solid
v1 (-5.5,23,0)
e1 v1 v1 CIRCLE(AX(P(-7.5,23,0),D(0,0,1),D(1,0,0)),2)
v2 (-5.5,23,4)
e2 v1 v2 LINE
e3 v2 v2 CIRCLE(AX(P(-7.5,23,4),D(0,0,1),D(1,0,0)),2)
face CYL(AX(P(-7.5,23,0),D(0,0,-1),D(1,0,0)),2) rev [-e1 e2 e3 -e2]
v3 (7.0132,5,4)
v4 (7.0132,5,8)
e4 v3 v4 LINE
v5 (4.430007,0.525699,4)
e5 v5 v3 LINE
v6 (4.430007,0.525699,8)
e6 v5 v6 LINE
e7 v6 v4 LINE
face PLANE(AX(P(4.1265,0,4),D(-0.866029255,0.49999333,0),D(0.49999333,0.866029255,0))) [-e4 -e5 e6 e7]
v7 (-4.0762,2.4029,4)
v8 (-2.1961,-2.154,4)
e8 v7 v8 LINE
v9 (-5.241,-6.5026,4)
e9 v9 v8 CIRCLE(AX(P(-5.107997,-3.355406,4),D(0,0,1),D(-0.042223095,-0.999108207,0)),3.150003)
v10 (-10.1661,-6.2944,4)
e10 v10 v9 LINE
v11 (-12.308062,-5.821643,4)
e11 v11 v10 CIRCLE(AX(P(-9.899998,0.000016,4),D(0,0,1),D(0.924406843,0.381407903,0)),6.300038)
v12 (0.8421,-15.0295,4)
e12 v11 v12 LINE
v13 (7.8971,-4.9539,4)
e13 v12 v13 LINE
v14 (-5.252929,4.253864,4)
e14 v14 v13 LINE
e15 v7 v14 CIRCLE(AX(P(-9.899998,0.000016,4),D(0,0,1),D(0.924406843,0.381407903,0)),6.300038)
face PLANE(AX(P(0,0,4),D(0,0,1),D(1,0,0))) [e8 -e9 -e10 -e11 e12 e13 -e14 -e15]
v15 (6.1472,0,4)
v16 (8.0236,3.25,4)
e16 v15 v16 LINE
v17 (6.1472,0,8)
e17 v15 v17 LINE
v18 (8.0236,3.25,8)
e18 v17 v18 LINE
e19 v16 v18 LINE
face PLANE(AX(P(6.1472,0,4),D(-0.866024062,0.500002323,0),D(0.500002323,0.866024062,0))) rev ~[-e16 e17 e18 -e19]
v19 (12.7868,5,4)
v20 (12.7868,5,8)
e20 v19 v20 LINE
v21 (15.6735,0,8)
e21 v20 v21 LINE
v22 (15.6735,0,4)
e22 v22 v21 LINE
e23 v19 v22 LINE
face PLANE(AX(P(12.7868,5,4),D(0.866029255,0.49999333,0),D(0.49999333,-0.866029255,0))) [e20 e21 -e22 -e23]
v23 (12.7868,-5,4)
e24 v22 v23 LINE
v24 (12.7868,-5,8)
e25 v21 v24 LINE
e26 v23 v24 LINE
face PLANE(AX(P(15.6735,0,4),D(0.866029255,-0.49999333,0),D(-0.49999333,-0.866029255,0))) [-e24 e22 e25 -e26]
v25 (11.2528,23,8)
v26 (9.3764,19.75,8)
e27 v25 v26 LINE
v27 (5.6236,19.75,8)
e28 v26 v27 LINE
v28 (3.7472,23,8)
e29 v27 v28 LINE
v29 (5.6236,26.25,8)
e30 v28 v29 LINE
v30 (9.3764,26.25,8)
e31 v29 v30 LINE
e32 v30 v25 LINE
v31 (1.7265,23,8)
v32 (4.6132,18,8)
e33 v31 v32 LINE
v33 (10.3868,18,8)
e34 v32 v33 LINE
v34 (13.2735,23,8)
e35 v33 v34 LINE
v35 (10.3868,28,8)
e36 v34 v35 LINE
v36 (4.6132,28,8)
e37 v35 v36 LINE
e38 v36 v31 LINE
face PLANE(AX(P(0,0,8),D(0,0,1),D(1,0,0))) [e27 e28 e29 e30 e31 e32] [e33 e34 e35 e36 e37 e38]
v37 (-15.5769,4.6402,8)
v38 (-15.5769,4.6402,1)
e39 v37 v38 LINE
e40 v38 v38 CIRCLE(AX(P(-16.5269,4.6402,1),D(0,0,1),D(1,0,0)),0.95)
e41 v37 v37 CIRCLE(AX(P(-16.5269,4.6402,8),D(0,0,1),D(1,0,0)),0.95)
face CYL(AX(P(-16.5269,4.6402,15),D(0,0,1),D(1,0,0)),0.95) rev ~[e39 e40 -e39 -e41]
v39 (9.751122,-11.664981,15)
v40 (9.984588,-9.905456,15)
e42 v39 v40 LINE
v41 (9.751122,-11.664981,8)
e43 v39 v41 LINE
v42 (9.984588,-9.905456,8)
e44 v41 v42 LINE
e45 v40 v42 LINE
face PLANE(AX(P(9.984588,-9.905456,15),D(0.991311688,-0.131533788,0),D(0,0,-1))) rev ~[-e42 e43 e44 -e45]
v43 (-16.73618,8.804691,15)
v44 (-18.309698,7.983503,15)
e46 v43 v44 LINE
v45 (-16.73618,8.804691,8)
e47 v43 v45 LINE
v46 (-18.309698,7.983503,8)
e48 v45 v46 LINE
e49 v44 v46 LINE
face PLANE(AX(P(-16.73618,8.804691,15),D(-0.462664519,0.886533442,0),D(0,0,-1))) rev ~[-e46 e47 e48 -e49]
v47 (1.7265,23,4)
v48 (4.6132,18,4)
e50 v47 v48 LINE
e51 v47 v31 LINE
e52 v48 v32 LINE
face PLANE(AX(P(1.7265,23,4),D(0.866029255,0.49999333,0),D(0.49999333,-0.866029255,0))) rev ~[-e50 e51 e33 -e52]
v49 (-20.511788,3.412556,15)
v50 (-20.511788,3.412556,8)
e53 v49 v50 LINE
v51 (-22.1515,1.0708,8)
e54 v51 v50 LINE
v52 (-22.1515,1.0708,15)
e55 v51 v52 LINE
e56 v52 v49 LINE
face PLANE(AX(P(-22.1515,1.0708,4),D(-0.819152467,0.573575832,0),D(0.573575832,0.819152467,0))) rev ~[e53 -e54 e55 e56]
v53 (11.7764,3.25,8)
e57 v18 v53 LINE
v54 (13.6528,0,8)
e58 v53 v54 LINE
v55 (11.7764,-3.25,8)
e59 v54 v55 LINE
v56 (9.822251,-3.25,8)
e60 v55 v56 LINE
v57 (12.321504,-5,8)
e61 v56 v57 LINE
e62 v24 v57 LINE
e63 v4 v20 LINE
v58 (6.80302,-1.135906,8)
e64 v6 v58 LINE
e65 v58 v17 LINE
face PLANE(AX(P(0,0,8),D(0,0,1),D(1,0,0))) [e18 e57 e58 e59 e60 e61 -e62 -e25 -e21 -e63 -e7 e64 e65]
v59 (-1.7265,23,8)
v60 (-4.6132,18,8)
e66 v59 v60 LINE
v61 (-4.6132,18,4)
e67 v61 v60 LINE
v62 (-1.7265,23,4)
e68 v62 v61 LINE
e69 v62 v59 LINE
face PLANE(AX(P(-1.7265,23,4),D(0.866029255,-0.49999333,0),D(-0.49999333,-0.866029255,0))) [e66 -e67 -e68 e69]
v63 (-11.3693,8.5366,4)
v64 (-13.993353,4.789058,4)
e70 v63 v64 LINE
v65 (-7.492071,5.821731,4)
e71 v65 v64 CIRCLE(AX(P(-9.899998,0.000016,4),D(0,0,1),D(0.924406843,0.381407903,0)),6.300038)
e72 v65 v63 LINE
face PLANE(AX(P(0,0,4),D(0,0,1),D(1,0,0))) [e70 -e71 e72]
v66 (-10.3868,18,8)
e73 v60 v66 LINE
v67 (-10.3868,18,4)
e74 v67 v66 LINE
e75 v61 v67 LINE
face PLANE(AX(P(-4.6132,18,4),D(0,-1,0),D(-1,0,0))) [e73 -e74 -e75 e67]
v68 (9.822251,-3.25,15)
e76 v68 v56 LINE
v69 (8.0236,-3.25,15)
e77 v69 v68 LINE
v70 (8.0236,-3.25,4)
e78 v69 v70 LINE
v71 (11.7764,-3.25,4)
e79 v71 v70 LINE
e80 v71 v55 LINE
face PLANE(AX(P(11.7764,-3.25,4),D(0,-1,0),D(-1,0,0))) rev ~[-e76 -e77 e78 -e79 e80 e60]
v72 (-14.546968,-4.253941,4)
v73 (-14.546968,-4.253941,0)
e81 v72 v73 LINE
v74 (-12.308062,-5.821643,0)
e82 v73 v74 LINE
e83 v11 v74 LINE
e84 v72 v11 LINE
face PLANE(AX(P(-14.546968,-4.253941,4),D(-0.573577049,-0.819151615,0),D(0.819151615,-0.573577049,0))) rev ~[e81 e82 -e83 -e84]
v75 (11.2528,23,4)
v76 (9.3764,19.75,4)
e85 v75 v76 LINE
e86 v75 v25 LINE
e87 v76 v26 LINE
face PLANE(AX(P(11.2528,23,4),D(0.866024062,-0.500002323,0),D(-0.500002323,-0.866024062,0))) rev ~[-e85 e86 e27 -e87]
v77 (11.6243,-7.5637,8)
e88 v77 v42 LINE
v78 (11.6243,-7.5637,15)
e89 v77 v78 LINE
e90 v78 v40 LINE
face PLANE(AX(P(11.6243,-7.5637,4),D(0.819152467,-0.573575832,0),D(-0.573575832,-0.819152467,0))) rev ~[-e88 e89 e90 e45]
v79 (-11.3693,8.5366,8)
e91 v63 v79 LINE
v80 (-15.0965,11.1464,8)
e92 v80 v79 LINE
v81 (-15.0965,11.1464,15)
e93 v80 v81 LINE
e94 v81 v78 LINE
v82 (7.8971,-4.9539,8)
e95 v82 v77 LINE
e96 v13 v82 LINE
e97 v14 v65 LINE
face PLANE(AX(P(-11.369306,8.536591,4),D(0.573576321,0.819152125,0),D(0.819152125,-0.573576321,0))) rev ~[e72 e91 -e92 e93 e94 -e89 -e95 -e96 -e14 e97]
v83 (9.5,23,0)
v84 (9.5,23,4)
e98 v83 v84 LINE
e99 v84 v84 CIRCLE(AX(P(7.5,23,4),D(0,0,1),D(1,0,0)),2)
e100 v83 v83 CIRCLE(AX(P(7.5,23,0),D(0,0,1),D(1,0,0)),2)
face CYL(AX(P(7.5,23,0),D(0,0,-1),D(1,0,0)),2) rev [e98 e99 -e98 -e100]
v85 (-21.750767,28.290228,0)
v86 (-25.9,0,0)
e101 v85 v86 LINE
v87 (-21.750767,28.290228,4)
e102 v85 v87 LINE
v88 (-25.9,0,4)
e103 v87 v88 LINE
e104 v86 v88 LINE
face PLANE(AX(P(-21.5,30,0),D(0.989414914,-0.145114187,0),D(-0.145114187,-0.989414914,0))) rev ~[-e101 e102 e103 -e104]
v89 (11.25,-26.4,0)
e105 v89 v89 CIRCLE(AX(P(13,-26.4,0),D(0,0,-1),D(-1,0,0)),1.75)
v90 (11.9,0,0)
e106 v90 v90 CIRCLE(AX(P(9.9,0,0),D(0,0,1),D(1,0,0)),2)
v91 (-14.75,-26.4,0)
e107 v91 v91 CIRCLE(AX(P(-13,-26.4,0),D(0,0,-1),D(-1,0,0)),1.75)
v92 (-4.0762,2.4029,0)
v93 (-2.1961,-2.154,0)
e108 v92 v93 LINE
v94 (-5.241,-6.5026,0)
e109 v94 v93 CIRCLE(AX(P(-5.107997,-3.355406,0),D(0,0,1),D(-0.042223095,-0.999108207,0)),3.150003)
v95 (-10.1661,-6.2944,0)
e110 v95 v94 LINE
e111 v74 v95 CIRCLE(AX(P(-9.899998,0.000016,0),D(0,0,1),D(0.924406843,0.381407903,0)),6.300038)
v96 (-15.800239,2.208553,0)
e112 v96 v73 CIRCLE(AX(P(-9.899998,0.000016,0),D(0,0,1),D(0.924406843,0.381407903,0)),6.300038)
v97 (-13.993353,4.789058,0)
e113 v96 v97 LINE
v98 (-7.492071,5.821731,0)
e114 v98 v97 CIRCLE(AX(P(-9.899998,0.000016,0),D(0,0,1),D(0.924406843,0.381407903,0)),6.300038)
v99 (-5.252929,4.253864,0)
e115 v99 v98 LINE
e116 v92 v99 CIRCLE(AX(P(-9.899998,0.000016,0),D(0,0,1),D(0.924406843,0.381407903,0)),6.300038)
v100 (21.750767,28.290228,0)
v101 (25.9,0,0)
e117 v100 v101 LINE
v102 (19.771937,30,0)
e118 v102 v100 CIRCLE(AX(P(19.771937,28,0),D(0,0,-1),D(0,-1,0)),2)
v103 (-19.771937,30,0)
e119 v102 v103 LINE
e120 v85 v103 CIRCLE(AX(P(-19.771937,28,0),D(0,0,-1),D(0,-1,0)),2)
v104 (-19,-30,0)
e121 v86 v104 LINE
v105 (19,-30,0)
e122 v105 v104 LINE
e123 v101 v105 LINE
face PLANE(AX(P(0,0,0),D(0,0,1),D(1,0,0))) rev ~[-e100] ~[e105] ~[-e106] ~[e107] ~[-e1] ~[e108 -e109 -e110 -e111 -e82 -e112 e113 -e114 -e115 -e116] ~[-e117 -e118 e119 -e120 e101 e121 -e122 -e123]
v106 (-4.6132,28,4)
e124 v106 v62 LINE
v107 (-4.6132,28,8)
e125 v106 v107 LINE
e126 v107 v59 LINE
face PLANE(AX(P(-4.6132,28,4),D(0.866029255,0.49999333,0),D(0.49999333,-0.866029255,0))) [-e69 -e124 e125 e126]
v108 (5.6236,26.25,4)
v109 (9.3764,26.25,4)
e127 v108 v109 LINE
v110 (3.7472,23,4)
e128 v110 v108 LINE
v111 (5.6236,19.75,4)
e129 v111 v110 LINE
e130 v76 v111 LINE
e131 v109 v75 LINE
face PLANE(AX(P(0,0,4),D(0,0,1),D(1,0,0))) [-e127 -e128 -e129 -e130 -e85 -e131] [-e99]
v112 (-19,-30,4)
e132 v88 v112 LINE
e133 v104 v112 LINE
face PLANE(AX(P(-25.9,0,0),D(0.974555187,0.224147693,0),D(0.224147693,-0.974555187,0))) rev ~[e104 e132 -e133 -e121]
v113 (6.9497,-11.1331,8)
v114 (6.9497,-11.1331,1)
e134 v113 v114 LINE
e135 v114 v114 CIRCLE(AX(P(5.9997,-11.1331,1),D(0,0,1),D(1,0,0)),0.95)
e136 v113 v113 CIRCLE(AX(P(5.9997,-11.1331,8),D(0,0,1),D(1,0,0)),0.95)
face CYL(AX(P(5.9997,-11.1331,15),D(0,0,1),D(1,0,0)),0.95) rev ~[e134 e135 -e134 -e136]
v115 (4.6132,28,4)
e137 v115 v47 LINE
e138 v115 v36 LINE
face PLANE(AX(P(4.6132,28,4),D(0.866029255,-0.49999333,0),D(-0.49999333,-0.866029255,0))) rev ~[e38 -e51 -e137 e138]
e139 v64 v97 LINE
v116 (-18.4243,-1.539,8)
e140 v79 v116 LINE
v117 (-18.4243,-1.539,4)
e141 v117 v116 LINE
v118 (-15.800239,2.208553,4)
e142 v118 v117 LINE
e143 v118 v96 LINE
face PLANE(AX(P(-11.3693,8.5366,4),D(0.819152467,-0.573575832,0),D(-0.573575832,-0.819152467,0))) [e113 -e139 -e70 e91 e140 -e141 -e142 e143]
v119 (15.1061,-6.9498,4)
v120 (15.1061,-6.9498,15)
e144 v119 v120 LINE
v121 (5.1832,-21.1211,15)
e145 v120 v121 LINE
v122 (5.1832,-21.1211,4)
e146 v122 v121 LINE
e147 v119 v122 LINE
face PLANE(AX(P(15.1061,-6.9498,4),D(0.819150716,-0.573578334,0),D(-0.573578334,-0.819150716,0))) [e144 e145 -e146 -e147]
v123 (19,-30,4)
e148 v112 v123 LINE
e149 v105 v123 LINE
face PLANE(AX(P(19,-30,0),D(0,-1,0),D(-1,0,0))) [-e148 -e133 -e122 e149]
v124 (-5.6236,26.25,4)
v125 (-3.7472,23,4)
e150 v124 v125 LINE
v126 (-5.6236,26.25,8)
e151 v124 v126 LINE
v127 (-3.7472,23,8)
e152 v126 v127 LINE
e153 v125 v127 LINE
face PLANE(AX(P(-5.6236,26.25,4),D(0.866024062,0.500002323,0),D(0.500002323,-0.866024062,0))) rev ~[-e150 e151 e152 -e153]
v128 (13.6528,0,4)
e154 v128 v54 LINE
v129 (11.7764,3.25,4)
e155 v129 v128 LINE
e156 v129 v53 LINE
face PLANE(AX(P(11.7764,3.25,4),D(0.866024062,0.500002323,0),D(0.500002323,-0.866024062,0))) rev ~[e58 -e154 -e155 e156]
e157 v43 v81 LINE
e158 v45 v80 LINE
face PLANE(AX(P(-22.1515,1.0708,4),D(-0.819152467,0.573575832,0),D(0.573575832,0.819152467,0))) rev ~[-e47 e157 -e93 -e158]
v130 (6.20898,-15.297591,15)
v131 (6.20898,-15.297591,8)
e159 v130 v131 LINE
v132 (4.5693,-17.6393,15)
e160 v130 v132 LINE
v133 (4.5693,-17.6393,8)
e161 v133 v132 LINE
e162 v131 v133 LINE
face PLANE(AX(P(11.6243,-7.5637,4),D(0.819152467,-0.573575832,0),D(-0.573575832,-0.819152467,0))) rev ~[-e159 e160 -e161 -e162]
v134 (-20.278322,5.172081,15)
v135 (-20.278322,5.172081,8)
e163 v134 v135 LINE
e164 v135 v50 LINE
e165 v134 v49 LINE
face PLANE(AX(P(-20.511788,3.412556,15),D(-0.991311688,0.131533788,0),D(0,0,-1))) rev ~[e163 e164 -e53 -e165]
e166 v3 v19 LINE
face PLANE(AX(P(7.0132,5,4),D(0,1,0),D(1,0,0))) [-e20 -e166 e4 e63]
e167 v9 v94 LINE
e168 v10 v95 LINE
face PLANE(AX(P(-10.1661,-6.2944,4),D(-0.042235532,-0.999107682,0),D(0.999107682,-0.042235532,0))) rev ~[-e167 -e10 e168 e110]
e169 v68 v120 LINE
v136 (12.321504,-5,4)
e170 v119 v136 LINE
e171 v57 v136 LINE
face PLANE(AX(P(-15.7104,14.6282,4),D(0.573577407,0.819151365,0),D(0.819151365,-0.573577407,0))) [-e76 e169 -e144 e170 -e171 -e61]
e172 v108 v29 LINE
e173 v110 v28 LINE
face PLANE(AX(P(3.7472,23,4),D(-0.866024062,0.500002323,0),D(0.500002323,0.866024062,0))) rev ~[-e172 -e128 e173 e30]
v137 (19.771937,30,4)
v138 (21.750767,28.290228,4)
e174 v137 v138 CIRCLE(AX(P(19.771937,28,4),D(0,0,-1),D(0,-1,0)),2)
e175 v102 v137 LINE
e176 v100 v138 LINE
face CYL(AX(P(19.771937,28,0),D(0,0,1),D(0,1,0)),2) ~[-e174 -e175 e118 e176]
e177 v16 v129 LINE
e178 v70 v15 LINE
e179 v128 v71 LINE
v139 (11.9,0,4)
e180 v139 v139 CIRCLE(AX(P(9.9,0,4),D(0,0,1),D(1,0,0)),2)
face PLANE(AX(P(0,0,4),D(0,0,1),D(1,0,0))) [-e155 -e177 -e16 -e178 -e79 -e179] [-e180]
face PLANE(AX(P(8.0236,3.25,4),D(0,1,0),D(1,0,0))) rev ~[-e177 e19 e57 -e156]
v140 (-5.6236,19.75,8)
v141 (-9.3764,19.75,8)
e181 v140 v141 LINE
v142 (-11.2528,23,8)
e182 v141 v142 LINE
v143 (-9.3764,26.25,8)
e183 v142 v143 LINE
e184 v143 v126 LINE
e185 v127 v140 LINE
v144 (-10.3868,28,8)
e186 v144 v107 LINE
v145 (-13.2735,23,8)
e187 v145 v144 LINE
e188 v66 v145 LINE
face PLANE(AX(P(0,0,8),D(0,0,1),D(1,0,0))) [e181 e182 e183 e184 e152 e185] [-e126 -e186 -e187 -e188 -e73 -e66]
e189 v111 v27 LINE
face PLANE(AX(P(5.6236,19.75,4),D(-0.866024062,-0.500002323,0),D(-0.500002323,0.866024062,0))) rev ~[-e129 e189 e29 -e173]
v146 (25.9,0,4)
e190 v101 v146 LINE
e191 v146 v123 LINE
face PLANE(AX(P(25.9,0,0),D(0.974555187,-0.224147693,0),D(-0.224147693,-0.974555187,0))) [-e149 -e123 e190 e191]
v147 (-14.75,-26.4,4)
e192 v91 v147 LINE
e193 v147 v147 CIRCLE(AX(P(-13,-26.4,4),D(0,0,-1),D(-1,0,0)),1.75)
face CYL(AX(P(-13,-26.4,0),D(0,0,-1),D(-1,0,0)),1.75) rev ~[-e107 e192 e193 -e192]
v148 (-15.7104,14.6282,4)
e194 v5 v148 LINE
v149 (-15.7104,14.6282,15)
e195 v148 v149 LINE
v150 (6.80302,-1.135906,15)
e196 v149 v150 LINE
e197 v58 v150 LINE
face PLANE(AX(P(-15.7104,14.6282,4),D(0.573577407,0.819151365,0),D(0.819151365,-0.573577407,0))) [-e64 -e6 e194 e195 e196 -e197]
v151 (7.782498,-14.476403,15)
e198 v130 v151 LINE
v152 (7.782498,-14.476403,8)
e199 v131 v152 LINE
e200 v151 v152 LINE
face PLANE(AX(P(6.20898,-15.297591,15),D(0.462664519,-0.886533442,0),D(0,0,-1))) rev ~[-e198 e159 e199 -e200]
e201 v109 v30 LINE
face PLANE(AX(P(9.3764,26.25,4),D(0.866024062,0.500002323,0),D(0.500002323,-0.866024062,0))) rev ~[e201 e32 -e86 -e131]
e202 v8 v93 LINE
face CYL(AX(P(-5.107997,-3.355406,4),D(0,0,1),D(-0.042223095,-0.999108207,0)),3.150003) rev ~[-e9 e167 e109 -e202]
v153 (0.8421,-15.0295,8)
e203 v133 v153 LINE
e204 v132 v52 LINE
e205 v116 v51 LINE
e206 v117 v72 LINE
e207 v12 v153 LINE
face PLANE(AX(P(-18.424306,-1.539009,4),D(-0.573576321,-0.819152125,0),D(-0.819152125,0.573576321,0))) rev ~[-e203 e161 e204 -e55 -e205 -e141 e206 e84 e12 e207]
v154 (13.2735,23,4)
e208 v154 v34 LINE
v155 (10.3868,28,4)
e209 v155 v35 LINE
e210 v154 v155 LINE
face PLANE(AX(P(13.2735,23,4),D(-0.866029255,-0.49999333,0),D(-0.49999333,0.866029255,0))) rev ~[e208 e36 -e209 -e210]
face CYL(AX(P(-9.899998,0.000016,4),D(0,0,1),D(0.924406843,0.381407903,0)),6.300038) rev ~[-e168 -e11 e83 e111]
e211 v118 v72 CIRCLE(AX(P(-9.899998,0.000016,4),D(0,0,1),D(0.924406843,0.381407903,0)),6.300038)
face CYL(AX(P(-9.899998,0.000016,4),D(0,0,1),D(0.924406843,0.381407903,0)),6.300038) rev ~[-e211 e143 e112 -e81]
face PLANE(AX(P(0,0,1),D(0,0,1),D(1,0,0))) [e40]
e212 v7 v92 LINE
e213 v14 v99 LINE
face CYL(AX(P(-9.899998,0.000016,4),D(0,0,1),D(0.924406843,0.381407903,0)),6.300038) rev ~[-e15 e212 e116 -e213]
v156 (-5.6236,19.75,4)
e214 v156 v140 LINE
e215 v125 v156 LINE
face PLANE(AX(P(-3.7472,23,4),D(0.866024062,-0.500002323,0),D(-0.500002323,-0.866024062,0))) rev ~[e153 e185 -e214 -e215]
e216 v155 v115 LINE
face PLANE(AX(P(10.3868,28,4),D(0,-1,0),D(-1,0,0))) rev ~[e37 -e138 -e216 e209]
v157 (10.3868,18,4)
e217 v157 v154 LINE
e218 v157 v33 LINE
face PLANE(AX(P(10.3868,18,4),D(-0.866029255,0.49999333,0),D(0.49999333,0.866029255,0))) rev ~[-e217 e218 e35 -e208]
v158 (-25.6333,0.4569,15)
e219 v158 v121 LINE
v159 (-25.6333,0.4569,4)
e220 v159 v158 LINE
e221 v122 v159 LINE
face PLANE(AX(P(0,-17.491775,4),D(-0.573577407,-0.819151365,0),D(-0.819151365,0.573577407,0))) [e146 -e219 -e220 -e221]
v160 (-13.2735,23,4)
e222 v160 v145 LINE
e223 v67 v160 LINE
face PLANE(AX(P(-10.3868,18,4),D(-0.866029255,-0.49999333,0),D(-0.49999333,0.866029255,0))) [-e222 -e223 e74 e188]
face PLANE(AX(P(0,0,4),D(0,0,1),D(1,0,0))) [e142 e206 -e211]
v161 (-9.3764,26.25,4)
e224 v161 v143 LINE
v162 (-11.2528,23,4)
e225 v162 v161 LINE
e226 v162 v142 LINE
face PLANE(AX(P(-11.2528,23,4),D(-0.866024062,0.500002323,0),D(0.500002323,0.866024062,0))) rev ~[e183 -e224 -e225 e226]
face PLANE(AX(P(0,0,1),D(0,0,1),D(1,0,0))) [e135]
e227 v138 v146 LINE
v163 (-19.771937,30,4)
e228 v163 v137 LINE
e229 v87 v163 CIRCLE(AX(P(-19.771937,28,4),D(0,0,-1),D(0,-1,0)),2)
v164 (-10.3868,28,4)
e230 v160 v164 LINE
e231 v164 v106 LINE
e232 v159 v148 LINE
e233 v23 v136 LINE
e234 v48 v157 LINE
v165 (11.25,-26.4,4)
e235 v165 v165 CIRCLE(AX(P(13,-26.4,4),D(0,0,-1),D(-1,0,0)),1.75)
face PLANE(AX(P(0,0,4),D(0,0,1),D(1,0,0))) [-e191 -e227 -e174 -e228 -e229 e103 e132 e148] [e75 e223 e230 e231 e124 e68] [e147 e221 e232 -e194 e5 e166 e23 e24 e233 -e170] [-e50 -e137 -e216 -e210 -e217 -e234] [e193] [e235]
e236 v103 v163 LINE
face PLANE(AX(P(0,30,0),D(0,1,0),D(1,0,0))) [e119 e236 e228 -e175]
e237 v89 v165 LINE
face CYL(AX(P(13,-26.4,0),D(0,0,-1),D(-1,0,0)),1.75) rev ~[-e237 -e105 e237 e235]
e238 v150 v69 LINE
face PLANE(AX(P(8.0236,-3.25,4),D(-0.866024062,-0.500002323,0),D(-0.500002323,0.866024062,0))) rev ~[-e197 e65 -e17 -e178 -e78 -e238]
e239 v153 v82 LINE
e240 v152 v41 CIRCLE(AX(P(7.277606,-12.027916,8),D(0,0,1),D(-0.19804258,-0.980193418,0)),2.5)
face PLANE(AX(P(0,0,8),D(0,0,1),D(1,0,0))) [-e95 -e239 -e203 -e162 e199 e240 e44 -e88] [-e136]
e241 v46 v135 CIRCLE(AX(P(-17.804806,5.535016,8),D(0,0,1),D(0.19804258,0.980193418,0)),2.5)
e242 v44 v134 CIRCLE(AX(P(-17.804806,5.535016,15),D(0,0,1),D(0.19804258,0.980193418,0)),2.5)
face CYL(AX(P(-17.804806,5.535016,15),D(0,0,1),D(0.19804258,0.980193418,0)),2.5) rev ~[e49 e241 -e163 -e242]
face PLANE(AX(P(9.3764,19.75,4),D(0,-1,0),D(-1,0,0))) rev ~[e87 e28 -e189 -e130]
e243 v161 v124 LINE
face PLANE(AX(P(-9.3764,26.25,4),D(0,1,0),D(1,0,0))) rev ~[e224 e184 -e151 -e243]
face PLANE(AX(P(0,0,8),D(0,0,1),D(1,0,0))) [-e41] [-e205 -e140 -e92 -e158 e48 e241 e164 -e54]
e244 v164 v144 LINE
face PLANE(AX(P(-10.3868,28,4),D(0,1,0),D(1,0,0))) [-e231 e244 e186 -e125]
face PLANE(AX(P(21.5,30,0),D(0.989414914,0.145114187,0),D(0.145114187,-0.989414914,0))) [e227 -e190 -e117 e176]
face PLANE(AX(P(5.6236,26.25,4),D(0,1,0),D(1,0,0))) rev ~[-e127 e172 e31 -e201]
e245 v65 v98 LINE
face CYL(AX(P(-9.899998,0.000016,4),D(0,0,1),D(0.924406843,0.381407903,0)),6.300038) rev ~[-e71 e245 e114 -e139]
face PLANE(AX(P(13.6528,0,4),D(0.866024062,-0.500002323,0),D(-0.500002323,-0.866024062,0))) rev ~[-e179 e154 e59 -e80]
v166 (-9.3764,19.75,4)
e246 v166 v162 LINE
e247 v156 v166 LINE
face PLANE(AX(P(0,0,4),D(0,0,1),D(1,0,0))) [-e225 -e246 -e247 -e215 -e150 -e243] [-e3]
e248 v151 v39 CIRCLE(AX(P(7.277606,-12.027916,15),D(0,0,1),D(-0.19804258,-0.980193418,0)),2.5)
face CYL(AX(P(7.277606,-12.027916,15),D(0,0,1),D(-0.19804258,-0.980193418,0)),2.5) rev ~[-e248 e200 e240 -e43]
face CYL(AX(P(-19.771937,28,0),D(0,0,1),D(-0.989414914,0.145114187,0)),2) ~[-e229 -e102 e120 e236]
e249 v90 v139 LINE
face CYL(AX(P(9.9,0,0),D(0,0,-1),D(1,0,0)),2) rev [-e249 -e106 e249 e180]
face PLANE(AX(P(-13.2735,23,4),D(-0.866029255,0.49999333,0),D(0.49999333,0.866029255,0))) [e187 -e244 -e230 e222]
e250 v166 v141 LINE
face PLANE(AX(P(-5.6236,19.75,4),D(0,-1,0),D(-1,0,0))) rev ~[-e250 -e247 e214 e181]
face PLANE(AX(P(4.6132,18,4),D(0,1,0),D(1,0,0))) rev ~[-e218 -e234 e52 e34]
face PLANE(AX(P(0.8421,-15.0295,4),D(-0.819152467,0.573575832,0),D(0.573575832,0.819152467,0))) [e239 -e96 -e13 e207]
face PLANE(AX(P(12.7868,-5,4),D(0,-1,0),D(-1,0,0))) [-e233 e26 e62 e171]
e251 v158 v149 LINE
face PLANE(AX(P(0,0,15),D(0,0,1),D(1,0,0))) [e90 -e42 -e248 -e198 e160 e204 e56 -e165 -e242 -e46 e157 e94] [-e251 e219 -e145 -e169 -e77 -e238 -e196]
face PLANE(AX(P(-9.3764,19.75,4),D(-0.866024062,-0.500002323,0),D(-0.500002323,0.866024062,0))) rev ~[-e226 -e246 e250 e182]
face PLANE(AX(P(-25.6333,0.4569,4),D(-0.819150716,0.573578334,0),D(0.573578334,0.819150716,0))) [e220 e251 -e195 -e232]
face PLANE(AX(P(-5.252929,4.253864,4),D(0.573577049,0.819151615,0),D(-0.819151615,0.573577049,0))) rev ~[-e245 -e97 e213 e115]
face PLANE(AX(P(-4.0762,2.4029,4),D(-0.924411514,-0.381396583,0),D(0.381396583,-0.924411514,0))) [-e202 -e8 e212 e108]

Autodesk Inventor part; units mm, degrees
ref_plane "YZ Plane" through (0, 0, 0) normal (1, 0, 0) x (0, 1, 0)
ref_plane "XZ Plane" through (0, 0, 0) normal (0, 1, 0) x (-1, 0, 0)
sketch "Sketch1" plane through (0, 0, 0) normal (0, 0, 1) x (1, 0, 0)
  circle A0 centre (-7.5, 23) radius 2
  circle A1 centre (-9.9, 0) radius 2
  line L0 (0, 30) -> (-21.5, 30)
  line L1 (-21.5, 30) -> (-25.9, 0)
  line L2 (-25.9, 0) -> (-19, -30)
  line L3 (-19, -30) -> (0, -30)
  line L4 (0, -30) -> (0, 30) construction
  line L5 (-9.9, 0) -> (0, 0)
  line L6 (0, 30) -> (21.5, 30)
  line L7 (21.5, 30) -> (25.9, 0)
  line L8 (25.9, 0) -> (19, -30)
  line L9 (19, -30) -> (0, -30)
  circle A2 centre (7.5, 23) radius 2
  circle A3 centre (9.9, 0) radius 2
  dimension "d0" = 4
  dimension "d1" = 4
  dimension "d3" = 14
  dimension "d6" = 16
  dimension "d7" = 7
  dimension "d8" = 19
  dimension "d9" = 30
  dimension "d10" = 30
  dimension "d11" = 19
  dimension "d12" = 21.5
  dimension "d13" = 4
  dimension "d14" = 7
  dimension "d15" = 7.5
  dimension "d16" = 30
  dimension "d17" = 30
  dimension "d18" = 4
  dimension "d20" = 16
  dimension "d47" = 9.9
  dimension "d79" = 9.9
  dimension "d98" = 7.5
extrude "Extrusion1" add sketch "Sketch1" along normal blind 4
fillet "Fillet1" radius 2 2 edges at (-21.5, 30, 2) (21.5, 30, 2)
ref_plane "Work Plane1" through (0, 176.5909, 4) normal (1, 0, 0) x (0, 0, -1)
sketch "Sketch2" plane through (0, 0, 4) normal (0, 0, 1) x (1, 0, 0)
  circle A0 centre (-9.9, 0) radius 2 projected
  line L0 (-15.7104, 14.6282) -> (15.1061, -6.9498)
  line L1 (15.1061, -6.9498) -> (5.1832, -21.1211)
  line L2 (5.1832, -21.1211) -> (-25.6333, 0.4569)
  line L3 (-25.6333, 0.4569) -> (-15.7104, 14.6282)
  line L4 (-20.6718, 7.5425) -> (10.1447, -14.0354) construction
  line L5 (-15.0965, 11.1464) -> (11.6243, -7.5637)
  line L6 (11.6243, -7.5637) -> (4.5693, -17.6393)
  line L7 (4.5693, -17.6393) -> (-22.1515, 1.0708)
  line L8 (-22.1515, 1.0708) -> (-15.0965, 11.1464)
  line L9 (-15.0965, 11.1464) -> (-11.3693, 8.5366)
  line L10 (-11.3693, 8.5366) -> (-18.4243, -1.539)
  line L11 (-18.4243, -1.539) -> (-22.1515, 1.0708)
  line L12 (-22.1515, 1.0708) -> (-15.0965, 11.1464)
  line L13 (4.5693, -17.6393) -> (0.8421, -15.0295)
  line L14 (7.8971, -4.9539) -> (11.6243, -7.5637)
  line L15 (11.6243, -7.5637) -> (4.5693, -17.6393)
  line L16 (0, 42) -> (0, -42) projected
  line L17 (0.8421, -15.0295) -> (7.8971, -4.9539)
  dimension "d34" = 37.62
  dimension "d35" = 17.3
  dimension "d36" = 2.5
  dimension "d37" = 2.5
  dimension "d38" = 2.5
  dimension "d40" = 2.5
  dimension "d42" = 4.55
  dimension "d44" = 55
  dimension "d45" = 6.15
  dimension "d46" = 4.55
  dimension "d78" = 6.1
extrude "Extrusion2" add sketch "Sketch2" along normal blind 4 contours L10 L7 L8 L5 | L5 L6 L7 L17
extrude "Extrusion3" add sketch "Sketch2" along normal blind 11 contours L0 L16 L5 L8 L7 L2 L3 | L0 L1 L2 L16 L7 L6 L5
sketch "Sketch3" plane through (0, 0, 15) normal (0, 0, 1) x (1, 0, 0)
  line L0 (-15.7104, 14.6282) -> (-25.6333, 0.4569) projected
  line L1 (-25.6333, 0.4569) -> (5.1832, -21.1211) projected
  line L2 (5.1832, -21.1211) -> (15.1061, -6.9498) projected
  line L3 (15.1061, -6.9498) -> (-15.7104, 14.6282) projected
  line L4 (-15.0965, 11.1464) -> (11.6243, -7.5637) projected
  line L5 (11.6243, -7.5637) -> (4.5693, -17.6393) projected
  line L6 (4.5693, -17.6393) -> (-22.1515, 1.0708) projected
  line L7 (-22.1515, 1.0708) -> (-15.0965, 11.1464) projected
  line L8 (-18.624, 6.1086) -> (8.0968, -12.6015) construction
  circle A0 centre (-16.5269, 4.6402) radius 0.95
  circle A1 centre (5.9997, -11.1331) radius 0.95
  line L9 (-18.4243, -1.539) -> (-11.3693, 8.5366) projected
  line L10 (7.8971, -4.9539) -> (0.8421, -15.0295) projected
  arc A2 (-15.8617, 3.9621) -> (-17.3097, 7.9855) centre (-17.8048, 5.535) ccw construction
  arc A3 (6.7825, -14.4784) -> (9.411, -10.7246) centre (7.2776, -12.0279) ccw
  arc A4 (-19.9382, 4.2317) -> (-15.8617, 3.9621) centre (-17.8048, 5.535) ccw construction
  arc A5 (-17.3097, 7.9855) -> (-19.9382, 4.2317) centre (-17.8048, 5.535) ccw
  arc A6 (5.1349, -10.7399) -> (6.7825, -14.4784) centre (7.2776, -12.0279) ccw construction
  arc A7 (9.411, -10.7246) -> (5.1349, -10.7399) centre (7.2776, -12.0279) ccw construction
  point P0 (0, 0)
  dimension "d52" = 1.9
  dimension "d53" = 1.9
  dimension "d54" = 1.99
  dimension "d55" = 1.99
  dimension "d56" = 5
  dimension "d57" = 3.5
  dimension "d58" = 5
  dimension "d59" = 3.5
extrude "Extrusion4" cut sketch "Sketch3" against normal up to surface (7 mm away) contours L7 A5 | A3 L5
chamfer "Chamfer1" distance 1 angle 45 4 edges at (-17.3097, 7.9855, 11.5) (-19.9382, 4.2317, 11.5) (6.7825, -14.4784, 11.5) (9.411, -10.7246, 11.5)
extrude "Extrusion5" cut sketch "Sketch3" against normal blind 14 contours A0 | A1
sketch "Sketch4" plane through (0, 0, 4) normal (0, 0, 1) x (1, 0, 0)
  circle A0 centre (-9.9, 0) radius 2 projected
  line L0 (-18.4243, -1.539) -> (-11.3693, 8.5366) projected
  line L1 (-18.4243, -1.539) -> (0.8421, -15.0295) projected
  line L2 (0.8421, -15.0295) -> (7.8971, -4.9539) projected
  line L3 (7.8971, -4.9539) -> (-11.3693, 8.5366) projected
  line L4 (-11.3693, 8.5366) -> (-18.4243, -1.539) projected
  circle A1 centre (-9.9, 0) radius 2 projected
  arc A2 (-7.2134, -5.6984) -> (-4.0762, 2.4029) centre (-9.9, 0) ccw construction
  arc A3 (-5.241, -6.5026) -> (-2.1961, -2.154) centre (-5.108, -3.3554) ccw
  line L5 (-4.0762, 2.4029) -> (-2.1961, -2.154)
  line L6 (-10.1661, -6.2944) -> (-5.241, -6.5026)
  line L7 (-14.8968, 3.4988) -> (4.3696, -9.9917) construction
  arc A4 (-10.1661, -6.2944) -> (-7.2134, -5.6984) centre (-9.9, 0) ccw construction
  arc A5 (-7.2134, -5.6984) -> (-5.241, -6.5026) centre (-5.108, -3.3554) ccw construction
  arc A6 (-4.0762, 2.4029) -> (-10.1661, -6.2944) centre (-9.9, 0) ccw
  arc A7 (-2.1961, -2.154) -> (-7.2134, -5.6984) centre (-5.108, -3.3554) ccw construction
  point P0 (0, 0)
  point P1 (-5.2531, 4.254)
  point P2 (-7.4919, 5.8216)
  point P3 (-13.9936, 4.7888)
  point P4 (-15.8001, 2.2088)
  point P5 (-14.5469, -4.254)
  point P6 (-12.3081, -5.8216)
  dimension "d73" = 12.6
  dimension "d74" = 6.3
  dimension "d75" = 5.85
extrude "Extrusion6" cut sketch "Sketch4" against normal through all contours L0 A6 L3 L5 A3 L6 L1
sketch "Sketch5" plane through (0, 0, 4) normal (0, 0, 1) x (1, 0, 0)
  circle A0 centre (-7.5, 23) radius 2 projected
  circle A1 centre (7.5, 23) radius 2 projected
  circle A2 centre (9.9, 0) radius 2 projected
  line L0 (-5.6236, 26.25) -> (-3.7472, 23)
  line L1 (-3.7472, 23) -> (-5.6236, 19.75)
  line L2 (-5.6236, 19.75) -> (-9.3764, 19.75)
  line L3 (-9.3764, 19.75) -> (-11.2528, 23)
  line L4 (-11.2528, 23) -> (-9.3764, 26.25)
  line L5 (-9.3764, 26.25) -> (-5.6236, 26.25)
  line L6 (9.3764, 26.25) -> (11.2528, 23)
  line L7 (11.2528, 23) -> (9.3764, 19.75)
  line L8 (9.3764, 19.75) -> (5.6236, 19.75)
  line L9 (5.6236, 19.75) -> (3.7472, 23)
  line L10 (3.7472, 23) -> (5.6236, 26.25)
  line L11 (5.6236, 26.25) -> (9.3764, 26.25)
  line L12 (11.7764, 3.25) -> (13.6528, 0)
  line L13 (13.6528, 0) -> (11.7764, -3.25)
  line L14 (11.7764, -3.25) -> (8.0236, -3.25)
  line L15 (8.0236, -3.25) -> (6.1472, 0)
  line L16 (6.1472, 0) -> (8.0236, 3.25)
  line L17 (8.0236, 3.25) -> (11.7764, 3.25)
  line L18 (-4.6132, 28) -> (-1.7265, 23)
  line L19 (-1.7265, 23) -> (-4.6132, 18)
  line L20 (-4.6132, 18) -> (-10.3868, 18)
  line L21 (-10.3868, 18) -> (-13.2735, 23)
  line L22 (-13.2735, 23) -> (-10.3868, 28)
  line L23 (-10.3868, 28) -> (-4.6132, 28)
  line L24 (4.6132, 18) -> (10.3868, 18)
  line L25 (10.3868, 18) -> (13.2735, 23)
  line L26 (13.2735, 23) -> (10.3868, 28)
  line L27 (10.3868, 28) -> (4.6132, 28)
  line L28 (4.6132, 28) -> (1.7265, 23)
  line L29 (1.7265, 23) -> (4.6132, 18)
  line L30 (12.7868, 5) -> (15.6735, 0)
  line L31 (15.6735, 0) -> (12.7868, -5)
  line L32 (12.7868, -5) -> (7.9629, -5)
  line L33 (7.0132, -5) -> (6.3688, -3.8838) construction
  line L34 (4.1265, 0) -> (7.0132, 5)
  line L35 (7.0132, 5) -> (12.7868, 5)
  line L36 (-15.0965, 11.1464) -> (11.6243, -7.5637) projected
  line L37 (6.3688, -3.8838) -> (4.1265, 0)
  line L38 (7.9629, -5) -> (7.0132, -5) construction
  point P0 (0, 0)
  point P1 (9.9, 3.25)
  dimension "d80" = 6.5
  dimension "d81" = 6.5
  dimension "d82" = 6.5
  dimension "d85" = 10
  dimension "d86" = 10
  dimension "d87" = 10
extrude "Extrusion7" cut sketch "Sketch5" along normal through all contours A2 | L12 L13 L14 L15 L16 L17
extrude "Extrusion8" add sketch "Sketch5" along normal blind 4 contours L18 L19 L20 L21 L22 L23 | L29 L28 L27 L26 L25 L24 | L30 L31 L32 L36 L37 L34 L35
sketch "Sketch6" plane through (0, 0, 0) normal (0, 0, -1) x (-1, 0, 0)
  circle A0 centre (-13, -26.4) radius 1.75
  circle A1 centre (13, -26.4) radius 1.75
  line L0 (19, -30) -> (-19, -30) projected
  point P0 (0, 0)
  dimension "d90" = 3.5
  dimension "d91" = 3.5
  dimension "d92" = 26
  dimension "d93" = 13
  dimension "d94" = 3.6
  dimension "d95" = 3.6
extrude "Extrusion9" cut sketch "Sketch6" against normal through all
equation "\"d1\" = d0"
equation "\"d11\" = d8"
equation "\"d13\" = d0"
equation "\"d14\" = d7"
equation "\"d18\" = d0"
equation "\"d47\" = d79"
equation "\"d81\" = d80"
equation "\"d82\" = d81"
equation "\"d86\" = d85"
equation "\"d87\" = d86"
equation "\"d95\" = d94"
properties part number "head"
